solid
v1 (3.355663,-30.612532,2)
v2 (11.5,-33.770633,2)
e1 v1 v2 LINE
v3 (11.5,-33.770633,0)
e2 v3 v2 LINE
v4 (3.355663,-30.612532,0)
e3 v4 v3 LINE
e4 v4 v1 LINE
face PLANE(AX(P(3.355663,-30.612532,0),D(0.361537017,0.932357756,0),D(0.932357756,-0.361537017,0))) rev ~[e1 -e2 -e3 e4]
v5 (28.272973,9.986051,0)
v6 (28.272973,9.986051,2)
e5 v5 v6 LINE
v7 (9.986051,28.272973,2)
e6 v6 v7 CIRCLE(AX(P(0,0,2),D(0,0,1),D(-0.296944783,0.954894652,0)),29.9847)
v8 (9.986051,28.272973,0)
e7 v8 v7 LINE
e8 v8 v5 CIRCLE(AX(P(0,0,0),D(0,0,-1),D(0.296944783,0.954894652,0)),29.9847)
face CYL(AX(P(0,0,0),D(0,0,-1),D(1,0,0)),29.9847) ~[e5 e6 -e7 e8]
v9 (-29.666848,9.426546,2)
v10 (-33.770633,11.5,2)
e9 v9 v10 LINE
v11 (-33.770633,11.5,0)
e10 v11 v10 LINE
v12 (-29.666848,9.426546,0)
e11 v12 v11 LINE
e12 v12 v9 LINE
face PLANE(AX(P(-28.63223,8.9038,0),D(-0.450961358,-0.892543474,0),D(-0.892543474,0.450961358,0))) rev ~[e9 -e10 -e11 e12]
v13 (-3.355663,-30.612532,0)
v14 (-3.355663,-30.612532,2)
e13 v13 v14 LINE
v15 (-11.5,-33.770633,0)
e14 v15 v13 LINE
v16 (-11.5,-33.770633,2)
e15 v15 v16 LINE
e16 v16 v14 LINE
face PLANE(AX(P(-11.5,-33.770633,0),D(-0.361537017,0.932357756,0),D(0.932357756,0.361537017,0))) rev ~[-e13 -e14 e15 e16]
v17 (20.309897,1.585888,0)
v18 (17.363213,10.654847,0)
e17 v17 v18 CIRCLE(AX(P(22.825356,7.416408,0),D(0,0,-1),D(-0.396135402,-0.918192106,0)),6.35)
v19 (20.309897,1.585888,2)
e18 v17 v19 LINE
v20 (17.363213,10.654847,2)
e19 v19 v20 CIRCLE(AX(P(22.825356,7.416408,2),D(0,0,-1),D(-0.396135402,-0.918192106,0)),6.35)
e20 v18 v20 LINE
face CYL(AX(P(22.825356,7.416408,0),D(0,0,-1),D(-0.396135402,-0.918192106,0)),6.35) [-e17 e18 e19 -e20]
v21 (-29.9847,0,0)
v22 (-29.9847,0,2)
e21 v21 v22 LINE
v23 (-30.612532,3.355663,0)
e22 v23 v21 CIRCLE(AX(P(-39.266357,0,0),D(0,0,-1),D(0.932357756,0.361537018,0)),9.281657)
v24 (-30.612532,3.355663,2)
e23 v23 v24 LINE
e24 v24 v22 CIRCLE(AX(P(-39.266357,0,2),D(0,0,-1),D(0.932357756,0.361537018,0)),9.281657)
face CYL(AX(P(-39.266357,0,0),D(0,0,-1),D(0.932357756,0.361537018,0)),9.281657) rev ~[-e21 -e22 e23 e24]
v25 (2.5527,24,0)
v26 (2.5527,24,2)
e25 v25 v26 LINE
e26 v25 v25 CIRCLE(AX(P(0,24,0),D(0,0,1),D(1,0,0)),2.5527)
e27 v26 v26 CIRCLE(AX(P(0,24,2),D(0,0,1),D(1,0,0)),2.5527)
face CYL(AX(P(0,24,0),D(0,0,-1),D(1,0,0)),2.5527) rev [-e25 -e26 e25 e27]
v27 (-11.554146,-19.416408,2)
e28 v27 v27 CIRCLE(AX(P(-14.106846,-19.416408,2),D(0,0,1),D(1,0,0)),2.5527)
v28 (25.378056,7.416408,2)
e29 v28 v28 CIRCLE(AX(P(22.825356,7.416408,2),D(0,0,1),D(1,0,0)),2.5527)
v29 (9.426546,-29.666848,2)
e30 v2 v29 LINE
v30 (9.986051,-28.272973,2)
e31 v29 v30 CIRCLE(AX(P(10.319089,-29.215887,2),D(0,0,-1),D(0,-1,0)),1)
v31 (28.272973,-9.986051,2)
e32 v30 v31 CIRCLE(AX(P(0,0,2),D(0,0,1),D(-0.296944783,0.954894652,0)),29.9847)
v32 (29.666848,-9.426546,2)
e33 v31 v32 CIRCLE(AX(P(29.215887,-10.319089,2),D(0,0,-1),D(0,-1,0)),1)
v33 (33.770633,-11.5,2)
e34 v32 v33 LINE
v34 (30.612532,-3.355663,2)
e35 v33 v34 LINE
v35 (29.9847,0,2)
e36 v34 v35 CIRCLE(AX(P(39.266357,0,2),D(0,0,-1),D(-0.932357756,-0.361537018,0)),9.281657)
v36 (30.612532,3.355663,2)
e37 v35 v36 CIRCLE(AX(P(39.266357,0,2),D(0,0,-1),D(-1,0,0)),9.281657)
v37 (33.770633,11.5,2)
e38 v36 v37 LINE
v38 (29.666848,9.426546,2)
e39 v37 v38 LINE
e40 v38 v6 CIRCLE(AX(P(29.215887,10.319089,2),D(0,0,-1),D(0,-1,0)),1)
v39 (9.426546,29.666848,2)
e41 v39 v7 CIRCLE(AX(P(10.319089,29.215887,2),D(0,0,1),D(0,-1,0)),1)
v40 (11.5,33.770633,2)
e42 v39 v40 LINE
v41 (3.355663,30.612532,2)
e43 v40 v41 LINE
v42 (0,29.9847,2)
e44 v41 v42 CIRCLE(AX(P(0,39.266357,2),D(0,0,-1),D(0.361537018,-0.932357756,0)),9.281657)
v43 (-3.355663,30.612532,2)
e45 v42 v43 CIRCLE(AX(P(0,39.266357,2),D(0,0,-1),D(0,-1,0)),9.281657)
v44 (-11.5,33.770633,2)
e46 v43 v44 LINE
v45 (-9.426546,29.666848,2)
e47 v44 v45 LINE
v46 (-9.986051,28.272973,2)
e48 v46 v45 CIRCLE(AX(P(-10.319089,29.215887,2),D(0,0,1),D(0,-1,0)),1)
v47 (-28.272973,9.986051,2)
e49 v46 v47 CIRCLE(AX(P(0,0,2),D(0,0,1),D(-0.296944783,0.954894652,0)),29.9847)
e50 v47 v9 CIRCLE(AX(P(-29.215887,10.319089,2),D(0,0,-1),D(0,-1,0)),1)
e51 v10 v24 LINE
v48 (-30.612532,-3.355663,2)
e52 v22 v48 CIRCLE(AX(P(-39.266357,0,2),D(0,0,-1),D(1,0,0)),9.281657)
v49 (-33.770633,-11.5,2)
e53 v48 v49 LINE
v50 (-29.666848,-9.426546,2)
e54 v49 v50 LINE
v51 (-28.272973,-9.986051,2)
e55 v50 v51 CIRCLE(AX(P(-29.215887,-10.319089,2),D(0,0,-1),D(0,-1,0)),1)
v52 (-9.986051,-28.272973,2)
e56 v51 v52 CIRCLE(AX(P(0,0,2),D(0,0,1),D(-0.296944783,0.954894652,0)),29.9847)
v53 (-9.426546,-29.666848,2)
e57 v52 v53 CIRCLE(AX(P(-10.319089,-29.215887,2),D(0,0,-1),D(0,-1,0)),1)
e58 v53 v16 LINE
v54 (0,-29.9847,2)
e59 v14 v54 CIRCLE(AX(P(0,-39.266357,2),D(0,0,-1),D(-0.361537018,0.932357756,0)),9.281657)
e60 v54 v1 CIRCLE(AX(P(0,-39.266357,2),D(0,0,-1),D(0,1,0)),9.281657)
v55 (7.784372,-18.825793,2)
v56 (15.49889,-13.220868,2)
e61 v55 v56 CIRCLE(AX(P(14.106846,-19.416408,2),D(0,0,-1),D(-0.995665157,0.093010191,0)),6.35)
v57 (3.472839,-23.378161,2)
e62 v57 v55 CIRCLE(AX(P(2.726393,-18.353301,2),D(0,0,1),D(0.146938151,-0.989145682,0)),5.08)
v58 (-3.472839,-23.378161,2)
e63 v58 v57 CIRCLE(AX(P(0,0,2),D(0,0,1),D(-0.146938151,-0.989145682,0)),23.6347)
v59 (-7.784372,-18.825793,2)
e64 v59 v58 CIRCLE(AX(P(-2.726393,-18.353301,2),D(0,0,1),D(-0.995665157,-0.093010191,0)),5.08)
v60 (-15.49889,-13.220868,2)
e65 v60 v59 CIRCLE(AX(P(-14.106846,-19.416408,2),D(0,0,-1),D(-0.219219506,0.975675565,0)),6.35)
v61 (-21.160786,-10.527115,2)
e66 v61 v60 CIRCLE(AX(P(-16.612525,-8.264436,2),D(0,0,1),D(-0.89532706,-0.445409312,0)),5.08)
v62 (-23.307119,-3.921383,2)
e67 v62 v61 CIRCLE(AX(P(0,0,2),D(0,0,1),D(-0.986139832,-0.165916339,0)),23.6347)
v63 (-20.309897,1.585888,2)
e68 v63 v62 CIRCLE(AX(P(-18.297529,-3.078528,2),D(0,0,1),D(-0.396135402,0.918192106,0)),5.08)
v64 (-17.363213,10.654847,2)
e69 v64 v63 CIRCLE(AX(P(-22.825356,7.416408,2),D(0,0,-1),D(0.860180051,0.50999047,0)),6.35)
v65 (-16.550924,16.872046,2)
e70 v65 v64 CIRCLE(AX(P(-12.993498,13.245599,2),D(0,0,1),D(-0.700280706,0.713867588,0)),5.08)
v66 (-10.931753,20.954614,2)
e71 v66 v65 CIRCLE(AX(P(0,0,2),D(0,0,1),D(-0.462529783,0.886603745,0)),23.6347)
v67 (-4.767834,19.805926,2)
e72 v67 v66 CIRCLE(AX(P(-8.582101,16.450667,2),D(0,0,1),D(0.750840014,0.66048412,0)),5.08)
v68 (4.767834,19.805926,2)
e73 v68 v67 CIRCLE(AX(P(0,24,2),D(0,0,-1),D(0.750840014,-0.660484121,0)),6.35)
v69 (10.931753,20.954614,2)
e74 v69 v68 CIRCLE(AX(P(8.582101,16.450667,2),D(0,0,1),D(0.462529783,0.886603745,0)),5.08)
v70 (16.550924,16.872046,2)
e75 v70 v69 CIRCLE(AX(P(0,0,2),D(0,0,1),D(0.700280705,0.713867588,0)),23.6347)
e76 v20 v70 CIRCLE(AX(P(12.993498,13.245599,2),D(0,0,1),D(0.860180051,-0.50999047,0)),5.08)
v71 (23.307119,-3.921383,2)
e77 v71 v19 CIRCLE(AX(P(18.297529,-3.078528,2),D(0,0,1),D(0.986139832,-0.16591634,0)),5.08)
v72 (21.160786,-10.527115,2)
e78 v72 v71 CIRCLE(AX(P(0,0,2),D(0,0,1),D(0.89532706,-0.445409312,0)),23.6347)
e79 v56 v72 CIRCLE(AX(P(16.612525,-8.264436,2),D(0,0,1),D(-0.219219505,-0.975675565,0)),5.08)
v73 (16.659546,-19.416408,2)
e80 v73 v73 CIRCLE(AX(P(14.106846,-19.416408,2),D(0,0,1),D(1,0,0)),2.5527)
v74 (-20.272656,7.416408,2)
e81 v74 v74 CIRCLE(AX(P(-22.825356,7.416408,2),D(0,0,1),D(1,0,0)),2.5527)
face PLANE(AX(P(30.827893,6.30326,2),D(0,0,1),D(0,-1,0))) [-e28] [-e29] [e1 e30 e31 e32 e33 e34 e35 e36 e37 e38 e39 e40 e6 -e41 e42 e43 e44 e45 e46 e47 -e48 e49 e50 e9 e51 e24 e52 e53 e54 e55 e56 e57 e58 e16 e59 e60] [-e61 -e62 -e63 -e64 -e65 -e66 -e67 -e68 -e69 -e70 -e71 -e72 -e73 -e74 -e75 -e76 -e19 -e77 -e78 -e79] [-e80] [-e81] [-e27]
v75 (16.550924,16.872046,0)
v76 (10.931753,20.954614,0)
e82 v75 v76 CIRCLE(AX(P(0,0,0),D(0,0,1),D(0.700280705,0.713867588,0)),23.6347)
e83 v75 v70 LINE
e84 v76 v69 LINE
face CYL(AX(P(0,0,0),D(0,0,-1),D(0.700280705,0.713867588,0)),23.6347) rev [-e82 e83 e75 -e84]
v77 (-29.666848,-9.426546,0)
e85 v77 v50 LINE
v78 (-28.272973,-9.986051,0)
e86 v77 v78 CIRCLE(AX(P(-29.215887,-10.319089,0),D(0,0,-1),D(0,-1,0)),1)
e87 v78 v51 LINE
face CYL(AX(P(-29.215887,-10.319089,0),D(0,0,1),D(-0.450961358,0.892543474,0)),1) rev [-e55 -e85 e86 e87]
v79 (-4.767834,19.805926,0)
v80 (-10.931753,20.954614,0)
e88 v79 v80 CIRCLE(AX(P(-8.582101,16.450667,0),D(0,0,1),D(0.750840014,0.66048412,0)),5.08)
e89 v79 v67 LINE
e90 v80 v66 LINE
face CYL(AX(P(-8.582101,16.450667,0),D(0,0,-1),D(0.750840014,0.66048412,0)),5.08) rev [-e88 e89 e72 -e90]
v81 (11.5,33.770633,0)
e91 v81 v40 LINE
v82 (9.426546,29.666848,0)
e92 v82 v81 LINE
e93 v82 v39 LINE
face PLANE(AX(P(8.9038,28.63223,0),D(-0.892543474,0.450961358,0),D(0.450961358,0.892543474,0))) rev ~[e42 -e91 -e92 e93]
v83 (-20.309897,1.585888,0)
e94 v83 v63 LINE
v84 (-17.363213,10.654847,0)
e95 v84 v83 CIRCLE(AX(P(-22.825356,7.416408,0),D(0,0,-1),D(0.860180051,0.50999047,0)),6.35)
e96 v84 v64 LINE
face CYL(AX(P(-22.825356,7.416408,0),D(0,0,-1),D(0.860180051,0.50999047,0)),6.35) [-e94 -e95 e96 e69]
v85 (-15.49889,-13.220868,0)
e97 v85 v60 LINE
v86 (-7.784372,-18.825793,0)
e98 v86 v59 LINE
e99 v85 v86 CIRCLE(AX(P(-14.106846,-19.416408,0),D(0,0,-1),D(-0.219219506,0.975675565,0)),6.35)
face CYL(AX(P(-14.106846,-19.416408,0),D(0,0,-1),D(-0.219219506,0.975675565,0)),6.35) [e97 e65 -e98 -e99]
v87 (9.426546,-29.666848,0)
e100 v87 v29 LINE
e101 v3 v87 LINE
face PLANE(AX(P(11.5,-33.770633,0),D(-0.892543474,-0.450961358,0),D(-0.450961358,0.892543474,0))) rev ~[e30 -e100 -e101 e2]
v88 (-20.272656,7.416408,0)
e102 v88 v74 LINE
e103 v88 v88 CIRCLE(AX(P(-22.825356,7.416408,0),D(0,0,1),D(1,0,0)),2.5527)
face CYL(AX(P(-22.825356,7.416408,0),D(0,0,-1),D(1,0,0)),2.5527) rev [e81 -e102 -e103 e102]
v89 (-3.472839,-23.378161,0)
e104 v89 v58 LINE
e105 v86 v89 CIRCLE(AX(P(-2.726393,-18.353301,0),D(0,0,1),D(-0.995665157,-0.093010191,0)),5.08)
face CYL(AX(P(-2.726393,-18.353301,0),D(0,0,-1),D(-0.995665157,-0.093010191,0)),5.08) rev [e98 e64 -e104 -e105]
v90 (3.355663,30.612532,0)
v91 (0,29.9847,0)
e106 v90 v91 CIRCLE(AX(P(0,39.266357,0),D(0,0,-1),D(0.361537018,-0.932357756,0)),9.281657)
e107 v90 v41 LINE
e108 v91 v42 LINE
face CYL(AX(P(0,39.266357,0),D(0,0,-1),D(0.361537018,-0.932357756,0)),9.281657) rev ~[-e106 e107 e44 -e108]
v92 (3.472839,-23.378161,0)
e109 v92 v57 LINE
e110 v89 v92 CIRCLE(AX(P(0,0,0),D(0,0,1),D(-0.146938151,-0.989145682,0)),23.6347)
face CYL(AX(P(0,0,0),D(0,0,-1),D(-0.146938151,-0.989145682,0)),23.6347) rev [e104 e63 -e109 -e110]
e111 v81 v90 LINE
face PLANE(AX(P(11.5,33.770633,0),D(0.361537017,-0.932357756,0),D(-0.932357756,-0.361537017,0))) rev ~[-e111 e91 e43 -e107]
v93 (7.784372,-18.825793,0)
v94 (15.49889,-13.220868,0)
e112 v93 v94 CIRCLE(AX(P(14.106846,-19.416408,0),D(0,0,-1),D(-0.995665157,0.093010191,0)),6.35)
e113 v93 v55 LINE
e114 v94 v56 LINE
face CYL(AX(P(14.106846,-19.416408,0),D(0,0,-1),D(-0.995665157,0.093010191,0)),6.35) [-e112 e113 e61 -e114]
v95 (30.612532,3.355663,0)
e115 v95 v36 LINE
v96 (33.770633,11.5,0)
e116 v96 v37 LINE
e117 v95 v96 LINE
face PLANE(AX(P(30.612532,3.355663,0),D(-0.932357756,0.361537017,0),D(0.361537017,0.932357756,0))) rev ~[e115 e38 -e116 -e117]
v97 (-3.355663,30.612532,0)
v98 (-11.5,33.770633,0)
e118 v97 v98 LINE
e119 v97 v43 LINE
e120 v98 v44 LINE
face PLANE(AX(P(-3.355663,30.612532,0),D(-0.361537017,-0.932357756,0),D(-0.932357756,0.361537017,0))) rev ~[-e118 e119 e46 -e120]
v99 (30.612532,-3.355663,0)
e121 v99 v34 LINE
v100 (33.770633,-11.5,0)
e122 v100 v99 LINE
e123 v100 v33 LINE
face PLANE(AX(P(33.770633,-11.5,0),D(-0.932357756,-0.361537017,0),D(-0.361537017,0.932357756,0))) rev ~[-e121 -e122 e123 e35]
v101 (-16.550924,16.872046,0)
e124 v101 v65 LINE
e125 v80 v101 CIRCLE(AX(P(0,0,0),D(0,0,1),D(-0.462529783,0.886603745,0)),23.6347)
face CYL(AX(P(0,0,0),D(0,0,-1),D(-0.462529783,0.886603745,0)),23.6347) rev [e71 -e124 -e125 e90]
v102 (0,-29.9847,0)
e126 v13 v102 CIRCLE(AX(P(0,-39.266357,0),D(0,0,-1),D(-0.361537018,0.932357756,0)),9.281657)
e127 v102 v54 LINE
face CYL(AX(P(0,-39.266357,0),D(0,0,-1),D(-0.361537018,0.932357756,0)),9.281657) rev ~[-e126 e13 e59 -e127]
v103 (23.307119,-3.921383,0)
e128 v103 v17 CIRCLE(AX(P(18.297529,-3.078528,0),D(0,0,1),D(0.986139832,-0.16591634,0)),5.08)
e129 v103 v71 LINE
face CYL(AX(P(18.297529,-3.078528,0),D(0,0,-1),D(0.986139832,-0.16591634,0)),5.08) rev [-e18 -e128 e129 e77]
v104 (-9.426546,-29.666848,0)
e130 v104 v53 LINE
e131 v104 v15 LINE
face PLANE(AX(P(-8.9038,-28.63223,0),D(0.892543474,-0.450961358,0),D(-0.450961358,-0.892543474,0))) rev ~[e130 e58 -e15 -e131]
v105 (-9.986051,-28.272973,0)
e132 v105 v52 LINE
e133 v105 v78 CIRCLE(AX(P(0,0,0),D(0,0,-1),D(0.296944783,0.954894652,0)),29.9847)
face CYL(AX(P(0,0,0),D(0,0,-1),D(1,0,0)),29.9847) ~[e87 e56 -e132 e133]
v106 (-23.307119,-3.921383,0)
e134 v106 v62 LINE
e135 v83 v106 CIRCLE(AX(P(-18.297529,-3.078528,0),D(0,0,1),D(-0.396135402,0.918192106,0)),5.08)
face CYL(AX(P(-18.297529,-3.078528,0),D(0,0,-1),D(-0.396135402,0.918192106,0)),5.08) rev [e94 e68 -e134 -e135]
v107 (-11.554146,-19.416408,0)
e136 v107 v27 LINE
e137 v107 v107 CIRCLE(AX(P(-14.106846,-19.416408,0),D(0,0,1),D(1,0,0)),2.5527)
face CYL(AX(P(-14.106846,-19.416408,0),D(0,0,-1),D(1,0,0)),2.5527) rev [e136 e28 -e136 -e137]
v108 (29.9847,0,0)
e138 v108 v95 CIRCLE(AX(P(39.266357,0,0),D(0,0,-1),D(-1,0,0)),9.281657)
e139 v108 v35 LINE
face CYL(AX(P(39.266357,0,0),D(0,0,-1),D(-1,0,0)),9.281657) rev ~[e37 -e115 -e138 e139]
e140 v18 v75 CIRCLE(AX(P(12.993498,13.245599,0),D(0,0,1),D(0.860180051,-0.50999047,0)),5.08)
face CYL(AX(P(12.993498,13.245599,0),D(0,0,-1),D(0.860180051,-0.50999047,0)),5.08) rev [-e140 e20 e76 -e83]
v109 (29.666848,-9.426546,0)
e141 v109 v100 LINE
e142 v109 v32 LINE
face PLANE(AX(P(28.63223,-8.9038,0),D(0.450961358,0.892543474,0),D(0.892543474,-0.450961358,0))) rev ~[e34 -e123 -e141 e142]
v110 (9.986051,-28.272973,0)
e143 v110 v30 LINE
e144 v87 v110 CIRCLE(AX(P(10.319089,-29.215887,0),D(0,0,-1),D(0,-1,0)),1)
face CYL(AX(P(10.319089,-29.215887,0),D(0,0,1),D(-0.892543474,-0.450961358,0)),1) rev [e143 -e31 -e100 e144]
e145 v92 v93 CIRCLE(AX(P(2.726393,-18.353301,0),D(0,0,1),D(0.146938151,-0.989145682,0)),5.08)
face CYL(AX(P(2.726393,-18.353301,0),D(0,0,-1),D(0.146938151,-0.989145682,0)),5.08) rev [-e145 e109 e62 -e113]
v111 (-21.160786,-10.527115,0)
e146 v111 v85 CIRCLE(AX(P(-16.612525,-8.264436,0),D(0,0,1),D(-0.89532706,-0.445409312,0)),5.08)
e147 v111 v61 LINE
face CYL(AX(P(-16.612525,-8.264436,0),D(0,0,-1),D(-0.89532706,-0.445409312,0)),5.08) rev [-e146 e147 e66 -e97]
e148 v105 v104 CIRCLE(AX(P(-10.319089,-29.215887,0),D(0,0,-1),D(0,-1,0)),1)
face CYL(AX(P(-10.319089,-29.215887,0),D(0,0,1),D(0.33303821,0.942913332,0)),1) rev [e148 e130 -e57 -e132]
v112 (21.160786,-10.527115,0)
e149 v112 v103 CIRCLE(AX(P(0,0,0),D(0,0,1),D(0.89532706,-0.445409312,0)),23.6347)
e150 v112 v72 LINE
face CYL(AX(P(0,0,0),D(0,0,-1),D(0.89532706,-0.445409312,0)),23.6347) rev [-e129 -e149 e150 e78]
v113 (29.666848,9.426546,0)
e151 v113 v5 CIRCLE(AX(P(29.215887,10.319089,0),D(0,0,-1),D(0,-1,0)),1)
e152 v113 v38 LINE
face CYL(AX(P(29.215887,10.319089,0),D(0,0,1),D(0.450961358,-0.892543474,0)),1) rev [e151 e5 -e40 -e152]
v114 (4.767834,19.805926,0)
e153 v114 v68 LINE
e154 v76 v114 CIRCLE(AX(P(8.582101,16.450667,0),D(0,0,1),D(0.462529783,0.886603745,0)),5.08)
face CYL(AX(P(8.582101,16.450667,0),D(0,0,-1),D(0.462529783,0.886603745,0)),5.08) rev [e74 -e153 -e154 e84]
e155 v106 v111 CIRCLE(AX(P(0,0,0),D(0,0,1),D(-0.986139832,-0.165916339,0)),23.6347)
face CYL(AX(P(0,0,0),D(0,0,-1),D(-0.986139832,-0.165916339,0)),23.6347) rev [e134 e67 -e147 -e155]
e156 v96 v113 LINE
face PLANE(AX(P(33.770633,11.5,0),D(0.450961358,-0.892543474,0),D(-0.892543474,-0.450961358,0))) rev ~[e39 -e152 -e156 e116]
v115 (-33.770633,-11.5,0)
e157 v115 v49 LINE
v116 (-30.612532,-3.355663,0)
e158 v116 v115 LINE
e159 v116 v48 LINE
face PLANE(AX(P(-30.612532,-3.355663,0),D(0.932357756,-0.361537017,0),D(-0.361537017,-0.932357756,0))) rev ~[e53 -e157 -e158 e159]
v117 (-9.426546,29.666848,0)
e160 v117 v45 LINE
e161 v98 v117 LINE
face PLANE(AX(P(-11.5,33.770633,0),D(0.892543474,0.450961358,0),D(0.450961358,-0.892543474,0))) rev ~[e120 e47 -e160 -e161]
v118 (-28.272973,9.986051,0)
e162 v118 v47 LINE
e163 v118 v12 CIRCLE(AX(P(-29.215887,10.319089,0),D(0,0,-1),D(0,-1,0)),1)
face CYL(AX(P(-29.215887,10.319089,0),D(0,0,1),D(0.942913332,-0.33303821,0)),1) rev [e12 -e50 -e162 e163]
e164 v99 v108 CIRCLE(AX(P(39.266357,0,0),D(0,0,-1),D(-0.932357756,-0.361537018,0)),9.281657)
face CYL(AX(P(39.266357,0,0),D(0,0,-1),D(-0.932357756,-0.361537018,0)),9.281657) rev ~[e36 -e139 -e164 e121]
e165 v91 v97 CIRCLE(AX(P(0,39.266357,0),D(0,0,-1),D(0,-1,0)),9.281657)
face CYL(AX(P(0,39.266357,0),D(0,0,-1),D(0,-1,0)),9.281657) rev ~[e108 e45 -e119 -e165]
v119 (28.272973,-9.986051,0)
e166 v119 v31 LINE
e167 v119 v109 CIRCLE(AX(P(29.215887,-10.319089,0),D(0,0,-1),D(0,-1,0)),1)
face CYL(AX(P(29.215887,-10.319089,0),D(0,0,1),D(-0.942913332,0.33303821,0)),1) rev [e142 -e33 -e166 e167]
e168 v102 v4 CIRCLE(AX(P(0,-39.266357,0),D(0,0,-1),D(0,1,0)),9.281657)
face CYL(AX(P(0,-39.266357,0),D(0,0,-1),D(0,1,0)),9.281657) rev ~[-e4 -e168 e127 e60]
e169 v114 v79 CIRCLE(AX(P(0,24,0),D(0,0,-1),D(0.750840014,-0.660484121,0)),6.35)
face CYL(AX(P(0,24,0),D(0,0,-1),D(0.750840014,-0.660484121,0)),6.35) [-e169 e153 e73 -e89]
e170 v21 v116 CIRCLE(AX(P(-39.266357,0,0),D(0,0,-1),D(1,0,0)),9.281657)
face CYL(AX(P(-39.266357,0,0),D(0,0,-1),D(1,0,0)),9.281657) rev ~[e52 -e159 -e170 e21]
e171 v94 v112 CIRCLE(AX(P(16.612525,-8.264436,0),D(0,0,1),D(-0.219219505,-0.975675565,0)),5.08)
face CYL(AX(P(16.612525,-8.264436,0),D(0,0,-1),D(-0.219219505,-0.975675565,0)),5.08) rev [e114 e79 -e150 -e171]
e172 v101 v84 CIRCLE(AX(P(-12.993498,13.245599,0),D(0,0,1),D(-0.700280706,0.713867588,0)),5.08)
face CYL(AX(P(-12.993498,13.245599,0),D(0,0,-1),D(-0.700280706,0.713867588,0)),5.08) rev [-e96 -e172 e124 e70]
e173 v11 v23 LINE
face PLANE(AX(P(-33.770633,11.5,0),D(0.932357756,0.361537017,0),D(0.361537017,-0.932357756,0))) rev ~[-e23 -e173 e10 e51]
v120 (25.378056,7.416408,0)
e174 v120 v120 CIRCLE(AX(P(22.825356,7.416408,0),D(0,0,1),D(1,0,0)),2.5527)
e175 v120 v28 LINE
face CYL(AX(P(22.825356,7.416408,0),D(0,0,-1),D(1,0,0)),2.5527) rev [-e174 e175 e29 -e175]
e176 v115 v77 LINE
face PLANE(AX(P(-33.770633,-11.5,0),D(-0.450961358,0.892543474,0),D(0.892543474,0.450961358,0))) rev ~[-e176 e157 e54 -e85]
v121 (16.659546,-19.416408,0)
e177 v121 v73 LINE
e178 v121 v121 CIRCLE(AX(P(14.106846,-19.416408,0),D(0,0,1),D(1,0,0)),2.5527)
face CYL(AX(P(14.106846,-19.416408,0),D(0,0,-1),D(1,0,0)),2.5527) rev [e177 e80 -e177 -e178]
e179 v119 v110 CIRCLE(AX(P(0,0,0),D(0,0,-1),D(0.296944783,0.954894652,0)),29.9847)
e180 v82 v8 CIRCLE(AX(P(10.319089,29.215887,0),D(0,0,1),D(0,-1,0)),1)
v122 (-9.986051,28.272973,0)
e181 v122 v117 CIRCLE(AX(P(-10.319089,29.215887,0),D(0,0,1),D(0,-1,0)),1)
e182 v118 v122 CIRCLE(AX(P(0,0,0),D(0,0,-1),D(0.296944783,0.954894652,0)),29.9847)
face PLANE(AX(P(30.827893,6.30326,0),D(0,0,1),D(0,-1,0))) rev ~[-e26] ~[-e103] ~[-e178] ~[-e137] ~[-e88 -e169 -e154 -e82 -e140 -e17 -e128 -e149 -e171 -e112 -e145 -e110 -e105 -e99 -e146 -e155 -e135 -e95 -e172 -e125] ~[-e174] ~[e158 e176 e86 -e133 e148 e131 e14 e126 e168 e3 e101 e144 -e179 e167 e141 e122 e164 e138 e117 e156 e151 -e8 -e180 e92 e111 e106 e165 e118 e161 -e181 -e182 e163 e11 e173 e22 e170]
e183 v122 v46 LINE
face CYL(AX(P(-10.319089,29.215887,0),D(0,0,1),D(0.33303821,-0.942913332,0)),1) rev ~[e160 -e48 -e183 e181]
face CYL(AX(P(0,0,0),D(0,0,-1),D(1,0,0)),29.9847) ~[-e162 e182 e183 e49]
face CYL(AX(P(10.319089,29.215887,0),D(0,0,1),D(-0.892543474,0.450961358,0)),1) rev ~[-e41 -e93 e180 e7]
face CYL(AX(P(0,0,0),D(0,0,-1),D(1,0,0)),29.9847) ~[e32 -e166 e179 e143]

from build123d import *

# Parameters (mm, degrees)
SKETCH1_R                = 29.9847
SKETCH1_R_2              = 2.5527
BOSS_EXTRUDE1_DEPTH      = 2
BOSS_EXTRUDE2_DEPTH      = 2
FILLET1_R                = 1
CIRPATTERN1_COUNT        = 4
FILLET1_OF_CIRPATTERN1_R = 1


with BuildPart() as part:
    # Sketch1 → Boss-Extrude1 (new body)
    with BuildSketch(Plane.XY):
        Circle(SKETCH1_R)
        with Locations((-22.825356391, 7.416407865)):
            Circle(SKETCH1_R_2, mode=Mode.SUBTRACT)
        with Locations((-14.106846055, -19.416407865)):
            Circle(SKETCH1_R_2, mode=Mode.SUBTRACT)
        with Locations((14.106846055, -19.416407865)):
            Circle(SKETCH1_R_2, mode=Mode.SUBTRACT)
        with Locations((22.825356391, 7.416407865)):
            Circle(SKETCH1_R_2, mode=Mode.SUBTRACT)
        with Locations((0, 24)):
            Circle(SKETCH1_R_2, mode=Mode.SUBTRACT)
        with BuildLine():
            ThreePointArc((-10.931752655, 20.954613525), (-13.892128102, 19.120873957), (-16.550924391, 16.872046287))
            ThreePointArc((-16.550924391, 16.872046287), (-18.030688134, 13.903717203), (-17.363213066, 10.65484735))
            ThreePointArc((-17.363213066, 10.65484735), (-16.786147513, 5.454149951), (-20.309896586, 1.585887994))
            ThreePointArc((-20.309896586, 1.585887994), (-22.759533045, -0.650170928), (-23.307119088, -3.921382907))
            ThreePointArc((-23.307119088, -3.921382907), (-22.477935446, -7.303523957), (-21.160786474, -10.52711546))
            ThreePointArc((-21.160786474, -10.52711546), (-18.7950099, -12.851718542), (-15.498889917, -13.220868027))
            ThreePointArc((-15.498889917, -13.220868027), (-10.374409703, -14.279149951), (-7.78437231, -18.825793152))
            ThreePointArc((-7.78437231, -18.825793152), (-6.414733197, -21.846516076), (-3.472839121, -23.378161445))
            ThreePointArc((-3.472839121, -23.378161445), (0, -23.6347), (3.472839121, -23.378161445))
            ThreePointArc((3.472839121, -23.378161445), (6.414733197, -21.846516076), (7.78437231, -18.825793152))
            ThreePointArc((7.78437231, -18.825793152), (10.374409703, -14.279149951), (15.498889917, -13.220868027))
            ThreePointArc((15.498889917, -13.220868027), (18.7950099, -12.851718542), (21.160786474, -10.52711546))
            ThreePointArc((21.160786474, -10.52711546), (22.477935446, -7.303523957), (23.307119088, -3.921382907))
            ThreePointArc((23.307119088, -3.921382907), (22.759533045, -0.650170928), (20.309896586, 1.585887994))
            ThreePointArc((20.309896586, 1.585887994), (16.786147513, 5.454149951), (17.363213066, 10.65484735))
            ThreePointArc((17.363213066, 10.65484735), (18.030688134, 13.903717203), (16.550924391, 16.872046287))
            ThreePointArc((16.550924391, 16.872046287), (13.892128102, 19.120873957), (10.931752655, 20.954613525))
            ThreePointArc((10.931752655, 20.954613525), (7.651431793, 21.444688344), (4.767834088, 19.805925834))
            ThreePointArc((4.767834088, 19.805925834), (0, 17.65), (-4.767834088, 19.805925834))
            ThreePointArc((-4.767834088, 19.805925834), (-7.651431793, 21.444688344), (-10.931752655, 20.954613525))
        make_face(mode=Mode.SUBTRACT)
    extrude(amount=BOSS_EXTRUDE1_DEPTH)

    # Sketch1<4> → Boss-Extrude2 (add)
    with BuildSketch(Plane.XY):
        with BuildLine():
            Line((-3.355662517, 30.612532095), (-11.5, 33.770632582))
            Line((-11.5, 33.770632582), (-8.903800235, 28.632229663))
            ThreePointArc((-8.903800235, 28.632229663), (-4.502966651, 29.644654247), (0, 29.9847))
            ThreePointArc((0, 29.9847), (-1.706944937, 30.143008076), (-3.355662517, 30.612532095))
        make_face()
        with BuildLine():
            ThreePointArc((3.355662517, 30.612532095), (1.706944937, 30.143008076), (0, 29.9847))
            ThreePointArc((0, 29.9847), (4.502966651, 29.644654247), (8.903800235, 28.632229663))
            Line((8.903800235, 28.632229663), (11.5, 33.770632582))
            Line((11.5, 33.770632582), (3.355662517, 30.612532095))
        make_face()
    boss_extrude2 = extrude(amount=BOSS_EXTRUDE2_DEPTH)

    # Fillet1
    fillet1_edges = [part.edges().sort_by_distance(p)[0] for p in [
        (-8.903800235, 28.632229663, 1),
        (8.903800235, 28.632229663, 1),
    ]]
    fillet(fillet1_edges, radius=FILLET1_R)

    # CirPattern1: Boss-Extrude2 ×4 about axis
    cirpattern1_axis = Axis((0, 0, 0), (0, 0, 1))
    for i in range(1, CIRPATTERN1_COUNT):
        add(boss_extrude2.rotate(cirpattern1_axis, i * 360 / CIRPATTERN1_COUNT))

    # Fillet1 of CirPattern1
    fillet1_of_cirpattern1_edges = [part.edges().sort_by_distance(p)[0] for p in [
        (-28.632229663, -8.903800235, 1),
        (-28.632229663, 8.903800235, 1),
        (8.903800235, -28.632229663, 1),
        (-8.903800235, -28.632229663, 1),
        (28.632229663, 8.903800235, 1),
        (28.632229663, -8.903800235, 1),
    ]]
    fillet(fillet1_of_cirpattern1_edges, radius=FILLET1_OF_CIRPATTERN1_R)


solid = part.part
